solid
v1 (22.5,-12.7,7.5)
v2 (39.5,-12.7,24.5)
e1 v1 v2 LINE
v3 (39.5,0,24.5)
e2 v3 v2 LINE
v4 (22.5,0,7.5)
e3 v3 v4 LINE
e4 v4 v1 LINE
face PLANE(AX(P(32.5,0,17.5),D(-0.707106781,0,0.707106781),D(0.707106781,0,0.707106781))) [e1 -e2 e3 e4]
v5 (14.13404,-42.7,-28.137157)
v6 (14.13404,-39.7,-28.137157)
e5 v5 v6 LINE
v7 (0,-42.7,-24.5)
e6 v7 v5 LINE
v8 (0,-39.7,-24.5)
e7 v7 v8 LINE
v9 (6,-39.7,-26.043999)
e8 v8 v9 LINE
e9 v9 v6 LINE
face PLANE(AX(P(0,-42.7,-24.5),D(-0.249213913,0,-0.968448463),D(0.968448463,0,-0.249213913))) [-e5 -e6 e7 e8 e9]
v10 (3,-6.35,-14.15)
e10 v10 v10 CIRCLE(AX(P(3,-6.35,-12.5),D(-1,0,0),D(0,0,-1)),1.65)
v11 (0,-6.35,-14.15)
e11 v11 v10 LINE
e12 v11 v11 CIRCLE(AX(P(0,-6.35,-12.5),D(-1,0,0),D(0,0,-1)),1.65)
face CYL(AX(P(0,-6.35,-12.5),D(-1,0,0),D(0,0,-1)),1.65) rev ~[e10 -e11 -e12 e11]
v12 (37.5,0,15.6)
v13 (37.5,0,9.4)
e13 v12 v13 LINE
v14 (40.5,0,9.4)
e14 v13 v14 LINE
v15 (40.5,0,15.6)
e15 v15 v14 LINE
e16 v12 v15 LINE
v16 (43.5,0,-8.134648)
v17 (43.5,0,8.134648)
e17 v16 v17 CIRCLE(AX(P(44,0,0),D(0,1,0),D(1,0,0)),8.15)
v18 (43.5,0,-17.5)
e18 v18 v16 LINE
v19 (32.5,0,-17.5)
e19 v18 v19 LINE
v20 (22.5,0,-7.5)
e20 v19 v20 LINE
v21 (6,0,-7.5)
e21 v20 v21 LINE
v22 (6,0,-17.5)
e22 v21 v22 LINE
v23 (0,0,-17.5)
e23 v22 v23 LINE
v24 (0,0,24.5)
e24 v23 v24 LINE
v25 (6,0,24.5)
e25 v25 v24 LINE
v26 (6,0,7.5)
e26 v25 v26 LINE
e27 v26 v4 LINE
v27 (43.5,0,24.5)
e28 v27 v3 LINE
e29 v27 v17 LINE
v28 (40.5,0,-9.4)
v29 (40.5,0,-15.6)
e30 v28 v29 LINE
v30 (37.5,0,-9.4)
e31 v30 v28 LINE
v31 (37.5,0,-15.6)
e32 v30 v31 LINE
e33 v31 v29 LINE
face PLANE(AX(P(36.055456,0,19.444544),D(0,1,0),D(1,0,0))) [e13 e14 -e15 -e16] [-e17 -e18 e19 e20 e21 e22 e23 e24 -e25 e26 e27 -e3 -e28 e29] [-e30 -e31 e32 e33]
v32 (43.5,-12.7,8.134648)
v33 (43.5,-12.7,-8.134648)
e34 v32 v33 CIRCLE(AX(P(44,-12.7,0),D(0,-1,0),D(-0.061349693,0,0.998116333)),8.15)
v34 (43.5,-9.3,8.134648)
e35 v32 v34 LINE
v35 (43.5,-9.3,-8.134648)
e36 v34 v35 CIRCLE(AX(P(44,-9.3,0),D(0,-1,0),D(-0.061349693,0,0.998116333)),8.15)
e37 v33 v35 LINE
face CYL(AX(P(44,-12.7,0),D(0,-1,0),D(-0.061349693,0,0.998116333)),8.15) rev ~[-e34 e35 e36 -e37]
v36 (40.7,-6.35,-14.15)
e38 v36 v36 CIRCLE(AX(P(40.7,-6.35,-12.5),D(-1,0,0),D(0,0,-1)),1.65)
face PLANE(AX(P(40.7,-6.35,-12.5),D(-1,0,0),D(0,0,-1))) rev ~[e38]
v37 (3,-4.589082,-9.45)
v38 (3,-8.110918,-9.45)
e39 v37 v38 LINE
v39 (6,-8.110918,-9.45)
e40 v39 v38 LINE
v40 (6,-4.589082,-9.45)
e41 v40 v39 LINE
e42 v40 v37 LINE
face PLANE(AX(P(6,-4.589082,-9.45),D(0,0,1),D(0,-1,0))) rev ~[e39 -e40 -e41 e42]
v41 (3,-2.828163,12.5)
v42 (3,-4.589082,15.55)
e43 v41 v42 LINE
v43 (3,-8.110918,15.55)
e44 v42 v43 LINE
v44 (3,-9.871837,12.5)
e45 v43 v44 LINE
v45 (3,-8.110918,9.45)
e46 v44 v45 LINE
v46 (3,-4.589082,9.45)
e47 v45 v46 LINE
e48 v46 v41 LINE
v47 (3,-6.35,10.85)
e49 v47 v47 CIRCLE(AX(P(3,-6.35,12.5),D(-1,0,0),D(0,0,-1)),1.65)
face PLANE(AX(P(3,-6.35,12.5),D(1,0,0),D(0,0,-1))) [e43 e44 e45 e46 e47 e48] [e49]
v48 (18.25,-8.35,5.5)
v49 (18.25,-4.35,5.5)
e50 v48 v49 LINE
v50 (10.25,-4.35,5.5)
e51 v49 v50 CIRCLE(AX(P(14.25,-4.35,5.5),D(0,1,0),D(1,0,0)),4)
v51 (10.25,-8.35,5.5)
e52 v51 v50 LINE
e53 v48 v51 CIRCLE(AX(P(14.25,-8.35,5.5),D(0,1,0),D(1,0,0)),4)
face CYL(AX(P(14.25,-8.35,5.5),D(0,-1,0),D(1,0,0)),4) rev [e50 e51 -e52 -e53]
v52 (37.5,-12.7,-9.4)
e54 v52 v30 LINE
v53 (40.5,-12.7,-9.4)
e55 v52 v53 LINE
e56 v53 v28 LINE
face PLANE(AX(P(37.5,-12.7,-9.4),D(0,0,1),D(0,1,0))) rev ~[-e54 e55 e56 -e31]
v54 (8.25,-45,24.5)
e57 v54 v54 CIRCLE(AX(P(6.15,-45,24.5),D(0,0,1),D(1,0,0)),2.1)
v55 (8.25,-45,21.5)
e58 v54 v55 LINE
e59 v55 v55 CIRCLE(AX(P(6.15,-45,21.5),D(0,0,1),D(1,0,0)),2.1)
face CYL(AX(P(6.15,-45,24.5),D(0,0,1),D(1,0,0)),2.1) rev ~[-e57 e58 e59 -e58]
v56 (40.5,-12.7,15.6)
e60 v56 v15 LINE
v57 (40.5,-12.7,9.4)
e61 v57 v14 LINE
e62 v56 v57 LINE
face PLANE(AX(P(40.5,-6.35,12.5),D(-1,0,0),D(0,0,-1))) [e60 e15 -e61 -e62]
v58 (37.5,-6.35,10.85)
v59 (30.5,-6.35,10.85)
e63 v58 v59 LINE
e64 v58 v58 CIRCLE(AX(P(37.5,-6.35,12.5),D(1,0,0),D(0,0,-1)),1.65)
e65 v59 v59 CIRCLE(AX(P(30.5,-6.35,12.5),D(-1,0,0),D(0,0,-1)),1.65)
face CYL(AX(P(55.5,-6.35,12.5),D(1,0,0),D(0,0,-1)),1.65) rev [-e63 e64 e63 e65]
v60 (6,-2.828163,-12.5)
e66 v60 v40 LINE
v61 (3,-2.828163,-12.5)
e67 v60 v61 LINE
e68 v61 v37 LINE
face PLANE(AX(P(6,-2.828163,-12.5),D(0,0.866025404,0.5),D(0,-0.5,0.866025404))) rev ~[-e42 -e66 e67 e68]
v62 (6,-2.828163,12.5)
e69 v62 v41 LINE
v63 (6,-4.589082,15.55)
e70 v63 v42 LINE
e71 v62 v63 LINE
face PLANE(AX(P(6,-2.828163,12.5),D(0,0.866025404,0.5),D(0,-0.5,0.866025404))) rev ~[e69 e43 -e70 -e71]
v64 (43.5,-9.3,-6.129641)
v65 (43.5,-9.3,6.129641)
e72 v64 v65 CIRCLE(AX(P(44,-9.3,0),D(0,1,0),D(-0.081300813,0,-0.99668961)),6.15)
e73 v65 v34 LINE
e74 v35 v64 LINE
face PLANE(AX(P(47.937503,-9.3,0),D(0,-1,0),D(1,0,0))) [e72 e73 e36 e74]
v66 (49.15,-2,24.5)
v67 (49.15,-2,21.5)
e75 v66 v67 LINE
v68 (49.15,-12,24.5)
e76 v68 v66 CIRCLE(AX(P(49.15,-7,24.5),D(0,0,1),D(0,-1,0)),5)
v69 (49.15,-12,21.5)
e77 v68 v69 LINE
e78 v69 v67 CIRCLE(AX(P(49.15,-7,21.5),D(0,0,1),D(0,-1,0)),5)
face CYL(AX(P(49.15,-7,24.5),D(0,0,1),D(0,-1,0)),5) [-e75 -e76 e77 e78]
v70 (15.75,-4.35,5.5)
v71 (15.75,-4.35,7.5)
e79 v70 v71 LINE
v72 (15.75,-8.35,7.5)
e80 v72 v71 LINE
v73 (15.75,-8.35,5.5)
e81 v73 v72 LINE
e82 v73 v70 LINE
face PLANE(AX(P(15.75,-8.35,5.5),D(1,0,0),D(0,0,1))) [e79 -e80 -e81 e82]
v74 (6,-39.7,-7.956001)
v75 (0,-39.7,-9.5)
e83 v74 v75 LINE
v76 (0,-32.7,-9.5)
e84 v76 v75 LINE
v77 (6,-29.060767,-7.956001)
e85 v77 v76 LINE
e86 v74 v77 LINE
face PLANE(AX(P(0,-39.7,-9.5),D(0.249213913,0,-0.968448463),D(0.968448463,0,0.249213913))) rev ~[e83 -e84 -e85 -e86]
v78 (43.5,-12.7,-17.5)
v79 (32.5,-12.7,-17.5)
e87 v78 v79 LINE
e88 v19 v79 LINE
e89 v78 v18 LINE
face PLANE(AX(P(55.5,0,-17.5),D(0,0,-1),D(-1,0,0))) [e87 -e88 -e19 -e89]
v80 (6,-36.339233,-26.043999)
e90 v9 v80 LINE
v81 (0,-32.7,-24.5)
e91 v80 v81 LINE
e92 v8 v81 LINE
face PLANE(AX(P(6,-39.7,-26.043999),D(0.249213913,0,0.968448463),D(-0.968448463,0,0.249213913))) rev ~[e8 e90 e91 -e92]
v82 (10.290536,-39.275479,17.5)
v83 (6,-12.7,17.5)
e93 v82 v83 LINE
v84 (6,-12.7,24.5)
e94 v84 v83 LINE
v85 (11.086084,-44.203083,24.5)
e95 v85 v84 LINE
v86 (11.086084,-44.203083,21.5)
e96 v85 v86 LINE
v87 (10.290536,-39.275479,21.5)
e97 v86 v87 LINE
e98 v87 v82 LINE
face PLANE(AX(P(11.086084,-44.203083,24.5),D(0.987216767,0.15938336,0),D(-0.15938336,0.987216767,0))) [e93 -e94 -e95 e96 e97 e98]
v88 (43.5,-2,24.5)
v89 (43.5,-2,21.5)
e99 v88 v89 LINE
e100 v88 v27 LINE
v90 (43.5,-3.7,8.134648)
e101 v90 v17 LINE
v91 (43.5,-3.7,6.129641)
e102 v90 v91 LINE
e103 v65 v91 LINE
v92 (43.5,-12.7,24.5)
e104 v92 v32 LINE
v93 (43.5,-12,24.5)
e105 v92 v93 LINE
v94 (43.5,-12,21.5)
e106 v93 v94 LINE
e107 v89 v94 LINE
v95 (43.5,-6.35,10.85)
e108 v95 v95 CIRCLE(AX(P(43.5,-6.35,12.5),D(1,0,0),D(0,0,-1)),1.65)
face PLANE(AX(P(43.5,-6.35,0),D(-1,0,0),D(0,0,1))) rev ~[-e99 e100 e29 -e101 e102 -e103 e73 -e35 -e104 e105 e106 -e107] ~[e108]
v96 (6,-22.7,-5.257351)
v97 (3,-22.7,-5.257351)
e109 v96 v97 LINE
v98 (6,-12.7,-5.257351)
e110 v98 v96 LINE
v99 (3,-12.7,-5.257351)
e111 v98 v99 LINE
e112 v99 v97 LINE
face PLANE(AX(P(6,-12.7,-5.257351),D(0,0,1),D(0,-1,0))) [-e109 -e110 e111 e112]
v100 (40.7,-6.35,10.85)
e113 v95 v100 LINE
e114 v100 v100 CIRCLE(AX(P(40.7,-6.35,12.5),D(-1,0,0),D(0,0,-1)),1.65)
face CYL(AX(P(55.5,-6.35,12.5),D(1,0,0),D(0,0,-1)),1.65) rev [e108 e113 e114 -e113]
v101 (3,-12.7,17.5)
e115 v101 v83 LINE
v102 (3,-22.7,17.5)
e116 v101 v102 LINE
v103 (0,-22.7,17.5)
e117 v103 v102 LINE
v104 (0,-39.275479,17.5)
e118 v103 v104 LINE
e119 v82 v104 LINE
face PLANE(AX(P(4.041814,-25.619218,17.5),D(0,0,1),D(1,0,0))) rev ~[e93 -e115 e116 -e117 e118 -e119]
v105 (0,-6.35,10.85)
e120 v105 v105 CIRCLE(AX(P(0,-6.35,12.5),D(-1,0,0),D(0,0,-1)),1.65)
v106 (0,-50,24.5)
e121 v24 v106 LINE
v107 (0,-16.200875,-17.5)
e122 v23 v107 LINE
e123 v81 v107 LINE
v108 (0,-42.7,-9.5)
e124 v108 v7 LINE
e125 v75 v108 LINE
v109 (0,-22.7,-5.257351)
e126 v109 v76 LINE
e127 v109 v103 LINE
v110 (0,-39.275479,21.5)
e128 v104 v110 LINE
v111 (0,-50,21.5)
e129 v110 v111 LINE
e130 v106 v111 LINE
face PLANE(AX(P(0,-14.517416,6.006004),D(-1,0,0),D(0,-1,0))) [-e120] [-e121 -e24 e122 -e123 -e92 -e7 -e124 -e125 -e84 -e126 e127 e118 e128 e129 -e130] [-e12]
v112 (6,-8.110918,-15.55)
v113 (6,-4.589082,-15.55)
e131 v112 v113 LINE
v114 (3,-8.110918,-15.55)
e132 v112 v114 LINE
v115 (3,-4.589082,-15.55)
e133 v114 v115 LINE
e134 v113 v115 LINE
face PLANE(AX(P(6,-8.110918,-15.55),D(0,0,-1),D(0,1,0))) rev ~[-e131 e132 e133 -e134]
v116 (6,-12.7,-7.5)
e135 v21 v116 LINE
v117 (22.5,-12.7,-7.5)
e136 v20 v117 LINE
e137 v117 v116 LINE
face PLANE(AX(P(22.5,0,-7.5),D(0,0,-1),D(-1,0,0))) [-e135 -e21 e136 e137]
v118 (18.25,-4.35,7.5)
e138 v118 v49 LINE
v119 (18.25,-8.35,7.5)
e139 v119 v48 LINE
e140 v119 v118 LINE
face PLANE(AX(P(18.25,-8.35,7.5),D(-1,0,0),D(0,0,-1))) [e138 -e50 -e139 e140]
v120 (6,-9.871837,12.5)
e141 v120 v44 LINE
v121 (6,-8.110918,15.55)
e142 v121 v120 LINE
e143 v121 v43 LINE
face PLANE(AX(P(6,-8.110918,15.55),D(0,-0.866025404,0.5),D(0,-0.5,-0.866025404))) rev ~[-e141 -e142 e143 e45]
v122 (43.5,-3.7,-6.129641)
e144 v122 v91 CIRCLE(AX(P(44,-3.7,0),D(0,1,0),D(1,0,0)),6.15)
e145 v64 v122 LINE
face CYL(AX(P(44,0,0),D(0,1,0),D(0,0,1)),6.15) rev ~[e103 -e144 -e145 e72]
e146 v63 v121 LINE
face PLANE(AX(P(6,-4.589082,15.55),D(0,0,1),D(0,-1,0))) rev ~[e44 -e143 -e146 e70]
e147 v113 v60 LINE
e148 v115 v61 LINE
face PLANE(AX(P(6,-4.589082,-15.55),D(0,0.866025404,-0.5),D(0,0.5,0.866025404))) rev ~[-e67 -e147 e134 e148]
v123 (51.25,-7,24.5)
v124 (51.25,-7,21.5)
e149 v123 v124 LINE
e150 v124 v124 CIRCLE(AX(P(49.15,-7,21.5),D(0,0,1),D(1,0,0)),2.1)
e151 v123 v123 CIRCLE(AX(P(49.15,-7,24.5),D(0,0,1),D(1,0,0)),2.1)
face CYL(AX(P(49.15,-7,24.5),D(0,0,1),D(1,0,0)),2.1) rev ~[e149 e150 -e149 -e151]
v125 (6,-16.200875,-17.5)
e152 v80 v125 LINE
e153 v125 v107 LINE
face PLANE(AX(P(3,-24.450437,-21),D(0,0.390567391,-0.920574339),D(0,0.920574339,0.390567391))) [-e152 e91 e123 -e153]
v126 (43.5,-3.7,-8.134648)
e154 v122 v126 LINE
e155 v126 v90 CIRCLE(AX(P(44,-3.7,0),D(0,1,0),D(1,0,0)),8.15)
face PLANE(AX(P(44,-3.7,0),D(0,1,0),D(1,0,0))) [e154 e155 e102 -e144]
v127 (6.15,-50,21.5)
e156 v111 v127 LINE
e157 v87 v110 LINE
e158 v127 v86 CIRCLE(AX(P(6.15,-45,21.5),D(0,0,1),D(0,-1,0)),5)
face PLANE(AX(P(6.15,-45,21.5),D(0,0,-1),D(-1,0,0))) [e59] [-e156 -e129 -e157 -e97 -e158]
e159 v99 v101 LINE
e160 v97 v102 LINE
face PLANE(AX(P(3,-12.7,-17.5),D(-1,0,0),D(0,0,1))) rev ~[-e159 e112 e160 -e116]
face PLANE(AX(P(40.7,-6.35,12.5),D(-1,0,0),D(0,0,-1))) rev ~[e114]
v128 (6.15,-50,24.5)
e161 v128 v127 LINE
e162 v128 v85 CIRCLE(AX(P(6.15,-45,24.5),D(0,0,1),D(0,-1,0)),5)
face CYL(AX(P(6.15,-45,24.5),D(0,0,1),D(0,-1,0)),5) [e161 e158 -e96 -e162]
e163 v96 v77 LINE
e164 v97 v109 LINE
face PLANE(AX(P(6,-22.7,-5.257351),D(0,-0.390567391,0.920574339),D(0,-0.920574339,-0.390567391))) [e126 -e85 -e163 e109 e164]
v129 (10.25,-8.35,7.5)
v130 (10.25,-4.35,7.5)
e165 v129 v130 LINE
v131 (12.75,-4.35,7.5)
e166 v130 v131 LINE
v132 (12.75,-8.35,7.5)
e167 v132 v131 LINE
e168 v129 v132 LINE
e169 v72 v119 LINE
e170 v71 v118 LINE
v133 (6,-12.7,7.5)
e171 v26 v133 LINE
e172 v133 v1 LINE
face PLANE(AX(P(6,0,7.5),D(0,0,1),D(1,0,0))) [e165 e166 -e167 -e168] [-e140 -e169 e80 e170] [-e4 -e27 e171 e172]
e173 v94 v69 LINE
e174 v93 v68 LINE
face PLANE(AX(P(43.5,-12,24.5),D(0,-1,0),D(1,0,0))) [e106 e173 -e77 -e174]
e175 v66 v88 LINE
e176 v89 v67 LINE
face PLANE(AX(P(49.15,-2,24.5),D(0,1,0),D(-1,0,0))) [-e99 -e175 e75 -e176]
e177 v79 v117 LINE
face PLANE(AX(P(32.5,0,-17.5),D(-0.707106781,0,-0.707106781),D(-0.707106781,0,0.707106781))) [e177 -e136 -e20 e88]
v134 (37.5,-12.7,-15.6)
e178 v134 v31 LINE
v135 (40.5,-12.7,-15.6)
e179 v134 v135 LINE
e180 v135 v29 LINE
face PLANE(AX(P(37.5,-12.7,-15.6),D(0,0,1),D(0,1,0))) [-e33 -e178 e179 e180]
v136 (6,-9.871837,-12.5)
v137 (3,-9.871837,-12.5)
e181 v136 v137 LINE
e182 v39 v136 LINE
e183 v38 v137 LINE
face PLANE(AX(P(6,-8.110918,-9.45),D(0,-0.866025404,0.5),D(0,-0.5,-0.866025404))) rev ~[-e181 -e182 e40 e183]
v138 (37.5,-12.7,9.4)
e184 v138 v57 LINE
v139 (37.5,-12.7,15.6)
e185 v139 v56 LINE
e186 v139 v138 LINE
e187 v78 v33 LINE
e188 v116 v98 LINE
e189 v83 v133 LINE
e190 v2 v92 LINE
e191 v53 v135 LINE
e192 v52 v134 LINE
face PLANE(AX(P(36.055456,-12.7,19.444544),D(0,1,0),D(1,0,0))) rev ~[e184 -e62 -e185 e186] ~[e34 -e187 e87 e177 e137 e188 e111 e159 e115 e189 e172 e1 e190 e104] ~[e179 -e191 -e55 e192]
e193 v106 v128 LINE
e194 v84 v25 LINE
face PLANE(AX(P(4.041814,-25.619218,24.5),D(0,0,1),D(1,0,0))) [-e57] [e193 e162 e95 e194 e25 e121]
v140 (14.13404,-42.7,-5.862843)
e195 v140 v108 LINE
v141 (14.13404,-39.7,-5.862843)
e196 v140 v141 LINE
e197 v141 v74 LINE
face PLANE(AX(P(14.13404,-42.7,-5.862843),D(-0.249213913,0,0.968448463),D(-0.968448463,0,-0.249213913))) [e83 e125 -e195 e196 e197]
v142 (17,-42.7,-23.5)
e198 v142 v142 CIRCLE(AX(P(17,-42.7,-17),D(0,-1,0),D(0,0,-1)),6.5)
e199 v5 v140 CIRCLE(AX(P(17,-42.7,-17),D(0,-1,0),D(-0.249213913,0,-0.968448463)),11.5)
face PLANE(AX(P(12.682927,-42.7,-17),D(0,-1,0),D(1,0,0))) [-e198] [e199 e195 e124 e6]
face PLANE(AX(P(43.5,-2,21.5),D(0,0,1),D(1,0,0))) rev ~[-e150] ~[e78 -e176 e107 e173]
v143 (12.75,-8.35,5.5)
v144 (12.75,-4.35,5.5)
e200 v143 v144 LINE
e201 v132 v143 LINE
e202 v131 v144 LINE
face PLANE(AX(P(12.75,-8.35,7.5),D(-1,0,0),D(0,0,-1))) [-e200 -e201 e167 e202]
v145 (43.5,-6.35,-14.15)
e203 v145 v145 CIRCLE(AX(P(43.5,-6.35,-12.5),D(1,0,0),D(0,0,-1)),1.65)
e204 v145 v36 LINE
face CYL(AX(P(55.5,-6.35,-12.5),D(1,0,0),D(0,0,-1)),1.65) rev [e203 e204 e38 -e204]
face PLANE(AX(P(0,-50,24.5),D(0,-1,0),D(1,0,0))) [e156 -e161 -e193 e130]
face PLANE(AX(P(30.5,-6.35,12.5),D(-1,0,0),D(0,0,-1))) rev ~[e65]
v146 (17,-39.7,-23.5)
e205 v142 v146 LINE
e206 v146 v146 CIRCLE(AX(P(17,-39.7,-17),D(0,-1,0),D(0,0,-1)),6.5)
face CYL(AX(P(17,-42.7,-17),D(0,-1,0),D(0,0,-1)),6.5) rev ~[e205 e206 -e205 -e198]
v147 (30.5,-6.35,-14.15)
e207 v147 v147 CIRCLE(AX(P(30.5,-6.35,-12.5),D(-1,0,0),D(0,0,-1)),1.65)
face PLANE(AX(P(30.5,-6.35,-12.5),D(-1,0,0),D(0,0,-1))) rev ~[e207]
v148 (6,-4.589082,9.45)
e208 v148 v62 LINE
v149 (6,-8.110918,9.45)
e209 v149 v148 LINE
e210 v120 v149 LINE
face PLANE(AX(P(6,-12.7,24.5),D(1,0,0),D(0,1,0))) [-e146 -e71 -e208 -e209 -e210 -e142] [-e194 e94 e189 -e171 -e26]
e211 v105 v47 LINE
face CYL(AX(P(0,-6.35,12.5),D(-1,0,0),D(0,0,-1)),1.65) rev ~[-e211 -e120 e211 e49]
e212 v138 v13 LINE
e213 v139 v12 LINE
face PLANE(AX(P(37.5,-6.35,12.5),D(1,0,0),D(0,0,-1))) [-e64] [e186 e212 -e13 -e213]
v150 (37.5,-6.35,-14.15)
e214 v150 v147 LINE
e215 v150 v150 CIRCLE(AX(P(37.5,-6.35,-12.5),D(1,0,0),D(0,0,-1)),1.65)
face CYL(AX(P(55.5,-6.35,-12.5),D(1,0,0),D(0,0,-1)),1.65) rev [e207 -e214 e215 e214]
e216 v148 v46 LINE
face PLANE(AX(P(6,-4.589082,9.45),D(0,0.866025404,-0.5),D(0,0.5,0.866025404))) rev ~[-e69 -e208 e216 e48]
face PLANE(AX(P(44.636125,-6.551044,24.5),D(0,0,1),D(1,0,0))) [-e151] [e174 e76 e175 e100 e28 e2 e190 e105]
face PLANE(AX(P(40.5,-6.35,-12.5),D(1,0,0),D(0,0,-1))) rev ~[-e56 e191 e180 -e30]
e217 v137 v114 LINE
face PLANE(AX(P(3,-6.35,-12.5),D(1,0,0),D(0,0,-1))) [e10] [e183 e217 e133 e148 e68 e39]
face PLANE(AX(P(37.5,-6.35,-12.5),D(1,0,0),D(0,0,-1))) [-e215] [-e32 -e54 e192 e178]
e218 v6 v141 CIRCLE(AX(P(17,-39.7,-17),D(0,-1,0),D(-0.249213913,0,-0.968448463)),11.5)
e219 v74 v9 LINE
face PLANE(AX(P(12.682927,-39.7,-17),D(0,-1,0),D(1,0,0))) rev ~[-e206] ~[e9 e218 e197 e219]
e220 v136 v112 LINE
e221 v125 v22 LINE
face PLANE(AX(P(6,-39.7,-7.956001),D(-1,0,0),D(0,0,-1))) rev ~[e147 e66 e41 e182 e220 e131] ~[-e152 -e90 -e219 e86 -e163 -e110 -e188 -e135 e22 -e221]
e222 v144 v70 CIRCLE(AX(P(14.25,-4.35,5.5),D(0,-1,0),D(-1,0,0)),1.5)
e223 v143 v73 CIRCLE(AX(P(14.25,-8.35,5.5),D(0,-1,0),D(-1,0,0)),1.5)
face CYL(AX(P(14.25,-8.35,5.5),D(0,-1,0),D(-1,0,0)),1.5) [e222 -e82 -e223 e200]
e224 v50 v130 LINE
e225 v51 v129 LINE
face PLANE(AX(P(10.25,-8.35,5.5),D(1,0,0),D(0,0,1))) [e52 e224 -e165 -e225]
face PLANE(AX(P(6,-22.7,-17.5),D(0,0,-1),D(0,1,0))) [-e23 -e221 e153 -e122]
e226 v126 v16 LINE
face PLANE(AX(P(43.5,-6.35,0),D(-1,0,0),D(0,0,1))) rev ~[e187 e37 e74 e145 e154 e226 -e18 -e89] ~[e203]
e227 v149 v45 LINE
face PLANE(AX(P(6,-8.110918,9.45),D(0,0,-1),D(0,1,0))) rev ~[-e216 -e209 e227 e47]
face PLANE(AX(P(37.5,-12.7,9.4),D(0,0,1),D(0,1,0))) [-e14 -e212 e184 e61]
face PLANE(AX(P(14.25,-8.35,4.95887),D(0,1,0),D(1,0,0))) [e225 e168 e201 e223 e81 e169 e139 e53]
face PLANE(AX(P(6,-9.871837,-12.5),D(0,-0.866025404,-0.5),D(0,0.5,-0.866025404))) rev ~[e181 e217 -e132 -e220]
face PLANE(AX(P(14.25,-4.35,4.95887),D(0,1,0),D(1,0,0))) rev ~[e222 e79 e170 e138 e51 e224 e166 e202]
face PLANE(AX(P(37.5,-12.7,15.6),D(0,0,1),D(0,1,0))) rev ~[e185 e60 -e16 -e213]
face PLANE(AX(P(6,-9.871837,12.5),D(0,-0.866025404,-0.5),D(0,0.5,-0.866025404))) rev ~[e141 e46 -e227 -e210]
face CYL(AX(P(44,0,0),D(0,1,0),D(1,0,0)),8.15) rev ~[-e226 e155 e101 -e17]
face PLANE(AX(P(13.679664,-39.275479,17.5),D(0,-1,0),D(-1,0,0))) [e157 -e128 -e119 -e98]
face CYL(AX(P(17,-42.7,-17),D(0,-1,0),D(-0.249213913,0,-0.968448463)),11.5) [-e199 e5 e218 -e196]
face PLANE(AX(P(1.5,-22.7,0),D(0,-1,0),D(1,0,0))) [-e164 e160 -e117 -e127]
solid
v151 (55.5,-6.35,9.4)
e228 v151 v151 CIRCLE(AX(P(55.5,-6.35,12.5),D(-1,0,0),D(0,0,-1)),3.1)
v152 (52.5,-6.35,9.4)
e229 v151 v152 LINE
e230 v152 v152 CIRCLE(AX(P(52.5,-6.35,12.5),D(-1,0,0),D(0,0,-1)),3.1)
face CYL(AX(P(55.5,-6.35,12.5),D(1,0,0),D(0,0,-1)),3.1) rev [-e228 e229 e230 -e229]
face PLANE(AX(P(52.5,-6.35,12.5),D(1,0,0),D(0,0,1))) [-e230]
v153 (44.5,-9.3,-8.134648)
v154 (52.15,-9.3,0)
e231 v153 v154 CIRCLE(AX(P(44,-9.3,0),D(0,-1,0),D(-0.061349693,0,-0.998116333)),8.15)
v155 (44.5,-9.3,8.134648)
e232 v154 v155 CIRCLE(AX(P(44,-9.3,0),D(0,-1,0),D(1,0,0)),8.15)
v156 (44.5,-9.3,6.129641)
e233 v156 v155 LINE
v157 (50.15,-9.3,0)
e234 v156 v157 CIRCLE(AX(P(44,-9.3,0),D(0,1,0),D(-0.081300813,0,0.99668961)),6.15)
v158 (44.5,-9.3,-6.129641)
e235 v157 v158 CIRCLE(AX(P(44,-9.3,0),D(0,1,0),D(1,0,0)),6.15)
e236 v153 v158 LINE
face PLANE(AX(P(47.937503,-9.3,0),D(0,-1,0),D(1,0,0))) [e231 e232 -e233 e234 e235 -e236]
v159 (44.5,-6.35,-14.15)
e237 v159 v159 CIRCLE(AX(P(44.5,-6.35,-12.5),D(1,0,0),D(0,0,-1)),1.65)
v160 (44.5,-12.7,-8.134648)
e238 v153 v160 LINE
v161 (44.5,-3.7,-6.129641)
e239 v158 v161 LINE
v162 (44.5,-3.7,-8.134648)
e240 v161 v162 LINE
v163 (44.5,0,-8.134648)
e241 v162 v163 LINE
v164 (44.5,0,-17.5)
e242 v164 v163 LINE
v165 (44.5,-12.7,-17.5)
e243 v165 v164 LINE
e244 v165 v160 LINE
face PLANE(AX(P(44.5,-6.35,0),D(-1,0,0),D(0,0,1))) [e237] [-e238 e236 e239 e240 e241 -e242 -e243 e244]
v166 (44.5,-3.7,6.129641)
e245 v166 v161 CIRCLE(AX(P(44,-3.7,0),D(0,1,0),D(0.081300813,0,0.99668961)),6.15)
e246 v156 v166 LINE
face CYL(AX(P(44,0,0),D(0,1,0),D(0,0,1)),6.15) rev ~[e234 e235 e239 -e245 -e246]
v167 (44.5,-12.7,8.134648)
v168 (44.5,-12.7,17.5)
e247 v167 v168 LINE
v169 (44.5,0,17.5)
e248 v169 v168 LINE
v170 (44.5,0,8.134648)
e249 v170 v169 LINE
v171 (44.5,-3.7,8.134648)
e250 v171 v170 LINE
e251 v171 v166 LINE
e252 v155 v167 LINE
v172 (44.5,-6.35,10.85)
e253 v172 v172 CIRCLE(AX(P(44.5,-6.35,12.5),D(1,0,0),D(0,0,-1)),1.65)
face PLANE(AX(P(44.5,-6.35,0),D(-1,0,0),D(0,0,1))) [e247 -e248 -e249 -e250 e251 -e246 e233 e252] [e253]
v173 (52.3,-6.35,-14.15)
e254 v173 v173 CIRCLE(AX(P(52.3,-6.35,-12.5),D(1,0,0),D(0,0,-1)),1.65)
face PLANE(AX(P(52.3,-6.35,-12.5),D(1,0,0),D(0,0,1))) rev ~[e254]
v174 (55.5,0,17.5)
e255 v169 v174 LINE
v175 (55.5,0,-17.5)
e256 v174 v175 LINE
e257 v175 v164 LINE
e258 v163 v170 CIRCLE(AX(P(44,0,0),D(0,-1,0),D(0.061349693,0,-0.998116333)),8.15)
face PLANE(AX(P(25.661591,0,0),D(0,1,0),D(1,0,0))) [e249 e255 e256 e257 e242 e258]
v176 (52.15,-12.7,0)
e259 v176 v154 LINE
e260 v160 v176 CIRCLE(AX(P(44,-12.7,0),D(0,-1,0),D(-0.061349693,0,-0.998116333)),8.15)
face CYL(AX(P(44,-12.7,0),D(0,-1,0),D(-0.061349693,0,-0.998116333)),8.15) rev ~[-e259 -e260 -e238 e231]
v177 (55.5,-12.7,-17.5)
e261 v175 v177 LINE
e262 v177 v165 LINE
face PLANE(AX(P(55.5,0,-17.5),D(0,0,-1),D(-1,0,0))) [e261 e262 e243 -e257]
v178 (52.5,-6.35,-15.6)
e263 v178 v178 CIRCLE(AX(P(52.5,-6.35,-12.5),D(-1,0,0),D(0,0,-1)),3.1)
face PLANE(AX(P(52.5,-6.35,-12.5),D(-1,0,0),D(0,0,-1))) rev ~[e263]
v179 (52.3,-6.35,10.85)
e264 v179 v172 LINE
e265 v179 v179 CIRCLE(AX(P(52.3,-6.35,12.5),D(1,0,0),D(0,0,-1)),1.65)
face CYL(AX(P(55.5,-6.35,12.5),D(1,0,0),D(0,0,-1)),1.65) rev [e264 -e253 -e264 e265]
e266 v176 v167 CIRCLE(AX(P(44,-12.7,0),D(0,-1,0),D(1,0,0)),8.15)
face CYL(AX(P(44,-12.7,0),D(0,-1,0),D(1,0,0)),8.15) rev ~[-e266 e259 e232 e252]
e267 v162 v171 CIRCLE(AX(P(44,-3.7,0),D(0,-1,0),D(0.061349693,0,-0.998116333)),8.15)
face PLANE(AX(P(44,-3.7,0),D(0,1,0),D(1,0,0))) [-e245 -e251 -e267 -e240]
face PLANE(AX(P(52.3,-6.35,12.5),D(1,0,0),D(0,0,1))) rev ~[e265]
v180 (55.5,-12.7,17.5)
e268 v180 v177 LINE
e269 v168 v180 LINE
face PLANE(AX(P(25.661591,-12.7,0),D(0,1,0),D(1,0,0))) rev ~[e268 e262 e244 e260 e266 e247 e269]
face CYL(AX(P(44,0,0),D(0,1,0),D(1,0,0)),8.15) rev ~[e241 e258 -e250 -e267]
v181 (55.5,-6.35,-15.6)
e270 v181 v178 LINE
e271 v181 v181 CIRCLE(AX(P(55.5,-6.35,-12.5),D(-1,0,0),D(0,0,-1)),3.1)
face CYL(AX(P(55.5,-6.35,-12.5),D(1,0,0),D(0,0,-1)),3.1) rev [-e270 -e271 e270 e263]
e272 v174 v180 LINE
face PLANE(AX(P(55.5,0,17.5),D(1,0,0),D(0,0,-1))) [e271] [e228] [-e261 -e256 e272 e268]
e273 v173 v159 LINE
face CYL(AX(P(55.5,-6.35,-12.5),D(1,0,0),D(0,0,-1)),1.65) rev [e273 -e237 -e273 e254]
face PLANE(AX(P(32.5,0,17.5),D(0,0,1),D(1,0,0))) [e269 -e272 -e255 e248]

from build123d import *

# Parameters (mm, degrees)
SKETCH_13_R               = 6.15
EXTRUDE_4_DEPTH           = 12.7
CUT_EXTRUDE_11_DEPTH      = 0.5
CUT_EXTRUDE_11_DEPTH_BACK = 0.5
SKETCH_15_W               = 35
SKETCH_15_H               = 12.7
SKETCH_14_R               = 3.1
SKETCH_14_R_2             = 1.65
CUT_EXTRUDE_12_DEPTH      = 3
SKETCH_14_3_R             = 1.65
CUT_EXTRUDE_13_DEPTH      = 25
SKETCH_16_W               = 6.2
SKETCH_16_H               = 12.7
CUT_EXTRUDE_14_DEPTH      = 3
SKETCH_17_R               = 8.15
SKETCH_17_R_2             = 6.15
CUT_EXTRUDE_30_DEPTH      = 3.7
CUT_EXTRUDE_31_DEPTH      = 3.4
SKETCH_19_R               = 1.65
CUT_EXTRUDE_32_DEPTH      = 6
CUT_EXTRUDE_33_DEPTH      = 3
SKETCH_21_W               = 3
SKETCH_21_H               = 35
EXTRUDE_5_DEPTH           = 10
SKETCH_22_R               = 2.1
EXTRUDE_6_DEPTH           = 7
SKETCH_41_W               = 15.059328192
SKETCH_41_H               = 11.44904226
CUT_EXTRUDE_34_DEPTH      = 4
SKETCH_42_W               = 10.65
SKETCH_42_H               = 4
CUT_EXTRUDE_35_DEPTH      = 10
CUT_EXTRUDE_36_DEPTH      = 12.7
EXTRUDE_7_DEPTH           = 12.7
EXTRUDE_8_REACH           = 76.502
SKETCH_44_R               = 6.5
EXTRUDE_9_DEPTH           = 3
EXTRUDE_14_DEPTH          = 3
CUT_EXTRUDE_37_DEPTH      = 2
CUT_EXTRUDE_37_DEPTH_BACK = 2
SKETCH_46_R               = 1.65
EXTRUDE_12_DEPTH          = 0.2
SKETCH_47_R               = 1.65
EXTRUDE_13_DEPTH          = 0.2
EXTRUDE_15_REACH          = 75.95
EXTRUDE_16_REACH          = 75.95


with BuildPart() as part:
    # 草圖13 → 填料-伸長4 (new body)
    with BuildSketch(Plane(origin=(0, 0, 0), x_dir=(1, 0, 0), z_dir=(0, 1, 0))):
        Polygon((0, 17.5), (0, -17.5), (6, -17.5), (6, -7.5), (22.5, -7.5), (32.5, -17.5), (55.5, -17.5), (55.5, 17.5), (32.5, 17.5), (22.5, 7.5), (6, 7.5), (6, 17.5), align=None)
        with Locations(Location((44, 0, 0), (0, 0, 270))):
            Circle(SKETCH_13_R, mode=Mode.SUBTRACT)
    extrude(amount=-EXTRUDE_4_DEPTH)

    # 草圖15 → 除料-伸長11 (cut, two sides: drawn at the far end of the back side and taken through both)
    with BuildSketch(Plane.ZY.offset(-44).offset(-CUT_EXTRUDE_11_DEPTH_BACK)):
        with Locations((0, -6.35)):
            Rectangle(SKETCH_15_W, SKETCH_15_H)
    extrude(amount=CUT_EXTRUDE_11_DEPTH + CUT_EXTRUDE_11_DEPTH_BACK, mode=Mode.SUBTRACT)


with BuildPart() as cut_extrude_11_piece_1:
    # of the separate pieces the step leaves, piece 1, a body of its own (cut_extrude_11_pieces)
    add(part.part.solids().sort_by_distance((0, 0, -17.5))[0])


with BuildPart() as cut_extrude_11_piece_2:
    # of the separate pieces the step leaves, piece 2, a body of its own (cut_extrude_11_pieces)
    add(part.part.solids().sort_by_distance((55.5, 0, -17.5))[0])

    # 草圖14 → 除料-伸長12 (cut)
    # profile 1 of 2: a face of its own
    with BuildSketch(Plane.ZY.offset(-55.5)):
        with Locations(Location((-12.5, -6.35, 0), (0, 0, 180))):
            Circle(SKETCH_14_R)
        with Locations(Location((-12.5, -6.35, 0), (0, 0, 180))):
            Circle(SKETCH_14_R_2, mode=Mode.SUBTRACT)
    # profile 2 of 2: a face of its own
    with BuildSketch(Plane.ZY.offset(-55.5)):
        with Locations(Location((12.5, -6.35, 0), (0, 0, 180))):
            Circle(SKETCH_14_R)
        with Locations(Location((12.5, -6.35, 0), (0, 0, 180))):
            Circle(SKETCH_14_R_2, mode=Mode.SUBTRACT)
    extrude(amount=CUT_EXTRUDE_12_DEPTH, mode=Mode.SUBTRACT)


with BuildPart() as cut_extrude_13_tool:
    # 草圖14<3> → 除料-伸長13 (new body)
    with BuildSketch(Plane.ZY.offset(-55.5)):
        with Locations(Location((-12.5, -6.35, 0), (0, 0, 180))):
            Circle(SKETCH_14_3_R)
        with Locations(Location((12.5, -6.35, 0), (0, 0, 180))):
            Circle(SKETCH_14_3_R)
    extrude(amount=CUT_EXTRUDE_13_DEPTH)


with BuildPart() as cut_extrude_11_piece_1_1:
    add(cut_extrude_11_piece_1.part)

    # 除料-伸長13: cut by cut_extrude_13_tool
    add(cut_extrude_13_tool.part, mode=Mode.SUBTRACT)

    # 草圖16 → 除料-伸長14 (cut)
    with BuildSketch(Plane(origin=(37.5, 0, 0), x_dir=(0, 0, -1), z_dir=(1, 0, 0))):
        with Locations((-12.5, -6.35)):
            Rectangle(SKETCH_16_W, SKETCH_16_H)
        with Locations((12.5, -6.35)):
            Rectangle(SKETCH_16_W, SKETCH_16_H)
    extrude(amount=CUT_EXTRUDE_14_DEPTH, mode=Mode.SUBTRACT)


with BuildPart() as cut_extrude_11_piece_2_1:
    add(cut_extrude_11_piece_2.part)

    # 除料-伸長13: cut by cut_extrude_13_tool
    add(cut_extrude_13_tool.part, mode=Mode.SUBTRACT)


with BuildPart() as cut_extrude_30_tool:
    # 草圖17 → 除料-伸長30 (new body)
    with BuildSketch(Plane(origin=(0, 0, 0), x_dir=(1, 0, 0), z_dir=(0, 1, 0))):
        with Locations((44, 0)):
            Circle(SKETCH_17_R)
        with Locations((44, 0)):
            Circle(SKETCH_17_R_2, mode=Mode.SUBTRACT)
    extrude(amount=-CUT_EXTRUDE_30_DEPTH)


with BuildPart() as cut_extrude_11_piece_1_2:
    add(cut_extrude_11_piece_1_1.part)

    # 除料-伸長30: cut by cut_extrude_30_tool
    add(cut_extrude_30_tool.part, mode=Mode.SUBTRACT)


with BuildPart() as cut_extrude_11_piece_2_2:
    add(cut_extrude_11_piece_2_1.part)

    # 除料-伸長30: cut by cut_extrude_30_tool
    add(cut_extrude_30_tool.part, mode=Mode.SUBTRACT)


with BuildPart() as cut_extrude_31_tool:
    # 草圖18 → 除料-伸長31 (new body)
    with BuildSketch(Plane.XZ.offset(12.7)):
        with BuildLine():
            ThreePointArc((43.5, -8.134648118), (49.583345771, -5.937065774), (52.15, 0))
            ThreePointArc((52.15, 0), (49.583345771, 5.937065774), (43.5, 8.134648118))
            Line((43.5, 8.134648118), (43.5, 6.129641099))
            ThreePointArc((43.5, 6.129641099), (48.168183057, 4.522029412), (50.15, 0))
            ThreePointArc((50.15, 0), (48.168183057, -4.522029412), (43.5, -6.129641099))
            Line((43.5, -6.129641099), (43.5, -8.134648118))
        make_face()
        with BuildLine():
            Line((43.5, 6.129641099), (43.5, 8.134648118))
            ThreePointArc((43.5, 8.134648118), (35.85, 0), (43.5, -8.134648118))
            Line((43.5, -8.134648118), (43.5, -6.129641099))
            ThreePointArc((43.5, -6.129641099), (37.85, 0), (43.5, 6.129641099))
        make_face()
    extrude(amount=-CUT_EXTRUDE_31_DEPTH)


with BuildPart() as cut_extrude_11_piece_1_3:
    add(cut_extrude_11_piece_1_2.part)

    # 除料-伸長31: cut by cut_extrude_31_tool
    add(cut_extrude_31_tool.part, mode=Mode.SUBTRACT)

    # 草圖19 → 除料-伸長32 (cut)
    with BuildSketch(Plane.ZY):
        with Locations(Location((-12.5, -6.35, 0), (0, 0, 180))):
            Circle(SKETCH_19_R)
        with Locations(Location((12.5, -6.35, 0), (0, 0, 180))):
            Circle(SKETCH_19_R)
    extrude(amount=-CUT_EXTRUDE_32_DEPTH, mode=Mode.SUBTRACT)

    # 草圖20 → 除料-伸長33 (cut)
    with BuildSketch(Plane(origin=(6, 0, 0), x_dir=(0, 0, -1), z_dir=(1, 0, 0))):
        Polygon((-12.5, -2.828163358), (-15.55, -4.589081679), (-15.55, -8.110918321), (-12.5, -9.871836642), (-9.45, -8.110918321), (-9.45, -4.589081679), align=None)
        Polygon((12.5, -2.828163358), (9.45, -4.589081679), (9.45, -8.110918321), (12.5, -9.871836642), (15.55, -8.110918321), (15.55, -4.589081679), align=None)
    extrude(amount=-CUT_EXTRUDE_33_DEPTH, mode=Mode.SUBTRACT)

    # 草圖21 → 填料-伸長5 (add)
    with BuildSketch(Plane.XZ.offset(12.7)):
        with Locations((1.5, 0)):
            Rectangle(SKETCH_21_W, SKETCH_21_H)
    extrude(amount=EXTRUDE_5_DEPTH)



with BuildPart() as cut_extrude_11_piece_2_3:
    add(cut_extrude_11_piece_2_2.part)

    # 除料-伸長31: cut by cut_extrude_31_tool
    add(cut_extrude_31_tool.part, mode=Mode.SUBTRACT)


with BuildPart() as cut_extrude_11_piece_1_4:
    add(cut_extrude_11_piece_1_3.part)

    add(cut_extrude_11_piece_2_3.part)  # 填料-伸長6 merges 除料-伸長11 piece 2
    # 草圖22 → 填料-伸長6 (add)
    # profile 1 of 2: a face of its own
    with BuildSketch(Plane.XY.offset(24.5)):
        with BuildLine():
            Line((6, 0), (0, 0))
            Line((0, 0), (0, -50))
            Line((0, -50), (6.15, -50))
            ThreePointArc((6.15, -50), (9.956874308, -48.241559502), (11.086083834, -44.203083202))
            Line((11.086083834, -44.203083202), (6, -12.7))
            Line((6, -12.7), (6, 0))
        make_face()
        with Locations((6.15, -45)):
            Circle(SKETCH_22_R, mode=Mode.SUBTRACT)
    # profile 2 of 2: a face of its own
    with BuildSketch(Plane.XY.offset(24.5)):
        with BuildLine():
            Line((43.5, -12), (49.15, -12))
            ThreePointArc((49.15, -12), (54.15, -7), (49.15, -2))
            Line((49.15, -2), (43.5, -2))
            Line((43.5, -2), (43.5, 0))
            Line((43.5, 0), (38, 0))
            Line((38, 0), (38, -12.7))
            Line((38, -12.7), (43.5, -12.7))
            Line((43.5, -12.7), (43.5, -12))
        make_face()
        with Locations((49.15, -7)):
            Circle(SKETCH_22_R, mode=Mode.SUBTRACT)
    extrude(amount=-EXTRUDE_6_DEPTH)

    # 草圖41 → 除料-伸長34 (cut)
    with BuildSketch(Plane(origin=(0, 0, 17.5), x_dir=(-1, 0, 0), z_dir=(0, 0, -1))):
        with Locations((-6.15, -45)):
            Rectangle(SKETCH_41_W, SKETCH_41_H)
    extrude(amount=-CUT_EXTRUDE_34_DEPTH, mode=Mode.SUBTRACT)

    # 草圖42 → 除料-伸長35 (cut)
    with BuildSketch(Plane(origin=(0, -2, 0), x_dir=(1, 0, 0), z_dir=(0, 1, 0))):
        with Locations((48.825, -19.5)):
            Rectangle(SKETCH_42_W, SKETCH_42_H)
    extrude(amount=-CUT_EXTRUDE_35_DEPTH, mode=Mode.SUBTRACT)


with BuildPart() as cut_extrude_35_piece_1:
    # of the separate pieces the step leaves, piece 1, a body of its own (cut_extrude_35_pieces)
    add(cut_extrude_11_piece_1_4.part.solids().sort_by_distance((43.5, -12.7, 8.134648118))[0])

    # 草圖43 → 除料-伸長36 (cut)
    with BuildSketch(Plane(origin=(0, 0, 0), x_dir=(1, 0, 0), z_dir=(0, 1, 0))):
        Polygon((39.5, -24.5), (38, -23), (38, -24.5), align=None)
    extrude(amount=-CUT_EXTRUDE_36_DEPTH, mode=Mode.SUBTRACT)

    # 草圖43<3> → 填料-伸長7 (add)
    with BuildSketch(Plane(origin=(0, 0, 0), x_dir=(1, 0, 0), z_dir=(0, 1, 0))):
        Polygon((38, -17.5), (32.5, -17.5), (38, -23), align=None)
    extrude(amount=-EXTRUDE_7_DEPTH)

    # 填料-伸長8: up to this face of the body (flat: up to its plane)
    extrude_8_end = Plane(cut_extrude_35_piece_1.part.faces().sort_by_distance((0, -14.517415813, 6.006004348))[0])
    # 草圖34 → 填料-伸長8 (add, up to the picked face)
    with BuildSketch(Plane(origin=(6, 0, 0), x_dir=(0, 0, -1), z_dir=(1, 0, 0)), mode=Mode.PRIVATE) as extrude_8_sk1:
        Polygon((24.5, -32.7), (17.5, -16.200874589), (17.5, -22.7), (9.5, -22.7), (9.5, -32.7), (9.5, -42.7), (24.5, -42.7), align=None)
    extrude_8_tool1 = split(extrude(extrude_8_sk1.sketch, amount=-EXTRUDE_8_REACH, mode=Mode.PRIVATE), bisect_by=extrude_8_end, keep=Keep.BOTH, mode=Mode.PRIVATE)
    # 草圖34 → 填料-伸長8 (add, up to the picked face)
    with BuildSketch(Plane(origin=(6, 0, 0), x_dir=(0, 0, -1), z_dir=(1, 0, 0)), mode=Mode.PRIVATE) as extrude_8_sk2:
        Polygon((9.5, -32.7), (9.5, -22.7), (5.257350874, -22.7), align=None)
    extrude_8_tool2 = split(extrude(extrude_8_sk2.sketch, amount=-EXTRUDE_8_REACH, mode=Mode.PRIVATE), bisect_by=extrude_8_end, keep=Keep.BOTH, mode=Mode.PRIVATE)
    add(extrude_8_tool1.solids().sort_by(Axis((6, -32.812629, -16.595535), (-1, 0, 0)))[0])
    add(extrude_8_tool2.solids().sort_by(Axis((6, -26.033333, -8.085784), (-1, 0, 0)))[0])

    # 草圖44 → 填料-伸長9 (add)
    with BuildSketch(Plane.XZ.offset(42.7)):
        with BuildLine():
            Line((6, -24.5), (0, -24.5))
            Line((0, -24.5), (14.134039996, -28.137157324))
            ThreePointArc((14.134039996, -28.137157324), (28.5, -17), (14.134039996, -5.862842676))
            Line((14.134039996, -5.862842676), (0, -9.5))
            Line((0, -9.5), (6, -9.5))
            Line((6, -9.5), (6, -24.5))
        make_face()
        with Locations(Location((17, -17, 0), (0, 0, 270))):
            Circle(SKETCH_44_R, mode=Mode.SUBTRACT)
    extrude(amount=-EXTRUDE_9_DEPTH)

    # 草圖34<5> → 填料-伸長14 (add)
    with BuildSketch(Plane(origin=(6, 0, 0), x_dir=(0, 0, -1), z_dir=(1, 0, 0))):
        Polygon((17.5, -12.7), (9.5, -12.7), (5.257350874, -12.7), (5.257350874, -22.7), (17.5, -22.7), align=None)
    extrude(amount=-EXTRUDE_14_DEPTH)

    # 草圖39 → 除料-伸長37 (cut, two sides: drawn at the far end of the back side and taken through both)
    with BuildSketch(Plane(origin=(0, -6.35, 0), x_dir=(1, 0, 0), z_dir=(0, 1, 0)).offset(-CUT_EXTRUDE_37_DEPTH_BACK)):
        with BuildLine():
            Line((12.75, -7.5), (12.75, -5.5))
            ThreePointArc((12.75, -5.5), (14.25, -4), (15.75, -5.5))
            Line((15.75, -5.5), (15.75, -7.5))
            Line((15.75, -7.5), (17.714101615, -7.5))
            ThreePointArc((17.714101615, -7.5), (18.113703305, -6.53527618), (18.25, -5.5))
            ThreePointArc((18.25, -5.5), (14.25, -1.5), (10.25, -5.5))
            ThreePointArc((10.25, -5.5), (10.386296695, -6.53527618), (10.785898385, -7.5))
            Line((10.785898385, -7.5), (12.75, -7.5))
        make_face()
        with BuildLine():
            Line((10.25, -7.5), (10.785898385, -7.5))
            ThreePointArc((10.785898385, -7.5), (10.386296695, -6.53527618), (10.25, -5.5))
            Line((10.25, -5.5), (10.25, -7.5))
        make_face()
        with BuildLine():
            ThreePointArc((18.25, -5.5), (18.113703305, -6.53527618), (17.714101615, -7.5))
            Line((17.714101615, -7.5), (18.25, -7.5))
            Line((18.25, -7.5), (18.25, -5.5))
        make_face()
    extrude(amount=CUT_EXTRUDE_37_DEPTH + CUT_EXTRUDE_37_DEPTH_BACK, mode=Mode.SUBTRACT)

    # 草圖47 → 填料-伸長13 (add)
    with BuildSketch(Plane.ZY.offset(-40.5)):
        with Locations(Location((12.5, -6.35, 0), (0, 0, 180))):
            Circle(SKETCH_47_R)
        with Locations(Location((-12.5, -6.35, 0), (0, 0, 180))):
            Circle(SKETCH_47_R)
    extrude(amount=-EXTRUDE_13_DEPTH)

    # 填料-伸長15: up to this face of the body (flat: up to its plane)
    extrude_15_end = Plane(cut_extrude_35_piece_1.part.faces().sort_by_distance((3, -24.450437294, -21))[0])
    # 草圖48 → 填料-伸長15 (add, up to the picked face)
    with BuildSketch(Plane(origin=(0, -39.7, 0), x_dir=(1, 0, 0), z_dir=(0, 1, 0)), mode=Mode.PRIVATE) as extrude_15_sk1:
        Polygon((0, 24.5), (6, 24.5), (6, 26.043999023), align=None)
    extrude_15_tool1 = split(extrude(extrude_15_sk1.sketch, amount=EXTRUDE_15_REACH, mode=Mode.PRIVATE), bisect_by=extrude_15_end, keep=Keep.BOTH, mode=Mode.PRIVATE)
    add(extrude_15_tool1.solids().sort_by(Axis((4, -39.7, -25.014666), (0, 1, 0)))[0])

    # 填料-伸長16: up to this face of the body (flat: up to its plane)
    extrude_16_end = Plane(cut_extrude_35_piece_1.part.faces().sort_by_distance((3, -27.7, -7.378675437))[0])
    # 草圖48<3> → 填料-伸長16 (add, up to the picked face)
    with BuildSketch(Plane(origin=(0, -39.7, 0), x_dir=(1, 0, 0), z_dir=(0, 1, 0)), mode=Mode.PRIVATE) as extrude_16_sk1:
        Polygon((6, 9.5), (0, 9.5), (6, 7.956000977), align=None)
    extrude_16_tool1 = split(extrude(extrude_16_sk1.sketch, amount=EXTRUDE_16_REACH, mode=Mode.PRIVATE), bisect_by=extrude_16_end, keep=Keep.BOTH, mode=Mode.PRIVATE)
    add(extrude_16_tool1.solids().sort_by(Axis((4, -39.7, -8.985334), (0, 1, 0)))[0])


with BuildPart() as cut_extrude_35_piece_2:
    # of the separate pieces the step leaves, piece 2, a body of its own (cut_extrude_35_pieces)
    add(cut_extrude_11_piece_1_4.part.solids().sort_by_distance((55.5, 0, 17.5))[0])

    # 草圖46 → 填料-伸長12 (add)
    with BuildSketch(Plane(origin=(52.5, 0, 0), x_dir=(0, 0, -1), z_dir=(1, 0, 0))):
        with Locations(Location((-12.5, -6.35, 0), (0, 0, 180))):
            Circle(SKETCH_46_R)
        with Locations(Location((12.5, -6.35, 0), (0, 0, 180))):
            Circle(SKETCH_46_R)
    extrude(amount=-EXTRUDE_12_DEPTH)


solid = Compound([cut_extrude_35_piece_1.part, cut_extrude_35_piece_2.part])
